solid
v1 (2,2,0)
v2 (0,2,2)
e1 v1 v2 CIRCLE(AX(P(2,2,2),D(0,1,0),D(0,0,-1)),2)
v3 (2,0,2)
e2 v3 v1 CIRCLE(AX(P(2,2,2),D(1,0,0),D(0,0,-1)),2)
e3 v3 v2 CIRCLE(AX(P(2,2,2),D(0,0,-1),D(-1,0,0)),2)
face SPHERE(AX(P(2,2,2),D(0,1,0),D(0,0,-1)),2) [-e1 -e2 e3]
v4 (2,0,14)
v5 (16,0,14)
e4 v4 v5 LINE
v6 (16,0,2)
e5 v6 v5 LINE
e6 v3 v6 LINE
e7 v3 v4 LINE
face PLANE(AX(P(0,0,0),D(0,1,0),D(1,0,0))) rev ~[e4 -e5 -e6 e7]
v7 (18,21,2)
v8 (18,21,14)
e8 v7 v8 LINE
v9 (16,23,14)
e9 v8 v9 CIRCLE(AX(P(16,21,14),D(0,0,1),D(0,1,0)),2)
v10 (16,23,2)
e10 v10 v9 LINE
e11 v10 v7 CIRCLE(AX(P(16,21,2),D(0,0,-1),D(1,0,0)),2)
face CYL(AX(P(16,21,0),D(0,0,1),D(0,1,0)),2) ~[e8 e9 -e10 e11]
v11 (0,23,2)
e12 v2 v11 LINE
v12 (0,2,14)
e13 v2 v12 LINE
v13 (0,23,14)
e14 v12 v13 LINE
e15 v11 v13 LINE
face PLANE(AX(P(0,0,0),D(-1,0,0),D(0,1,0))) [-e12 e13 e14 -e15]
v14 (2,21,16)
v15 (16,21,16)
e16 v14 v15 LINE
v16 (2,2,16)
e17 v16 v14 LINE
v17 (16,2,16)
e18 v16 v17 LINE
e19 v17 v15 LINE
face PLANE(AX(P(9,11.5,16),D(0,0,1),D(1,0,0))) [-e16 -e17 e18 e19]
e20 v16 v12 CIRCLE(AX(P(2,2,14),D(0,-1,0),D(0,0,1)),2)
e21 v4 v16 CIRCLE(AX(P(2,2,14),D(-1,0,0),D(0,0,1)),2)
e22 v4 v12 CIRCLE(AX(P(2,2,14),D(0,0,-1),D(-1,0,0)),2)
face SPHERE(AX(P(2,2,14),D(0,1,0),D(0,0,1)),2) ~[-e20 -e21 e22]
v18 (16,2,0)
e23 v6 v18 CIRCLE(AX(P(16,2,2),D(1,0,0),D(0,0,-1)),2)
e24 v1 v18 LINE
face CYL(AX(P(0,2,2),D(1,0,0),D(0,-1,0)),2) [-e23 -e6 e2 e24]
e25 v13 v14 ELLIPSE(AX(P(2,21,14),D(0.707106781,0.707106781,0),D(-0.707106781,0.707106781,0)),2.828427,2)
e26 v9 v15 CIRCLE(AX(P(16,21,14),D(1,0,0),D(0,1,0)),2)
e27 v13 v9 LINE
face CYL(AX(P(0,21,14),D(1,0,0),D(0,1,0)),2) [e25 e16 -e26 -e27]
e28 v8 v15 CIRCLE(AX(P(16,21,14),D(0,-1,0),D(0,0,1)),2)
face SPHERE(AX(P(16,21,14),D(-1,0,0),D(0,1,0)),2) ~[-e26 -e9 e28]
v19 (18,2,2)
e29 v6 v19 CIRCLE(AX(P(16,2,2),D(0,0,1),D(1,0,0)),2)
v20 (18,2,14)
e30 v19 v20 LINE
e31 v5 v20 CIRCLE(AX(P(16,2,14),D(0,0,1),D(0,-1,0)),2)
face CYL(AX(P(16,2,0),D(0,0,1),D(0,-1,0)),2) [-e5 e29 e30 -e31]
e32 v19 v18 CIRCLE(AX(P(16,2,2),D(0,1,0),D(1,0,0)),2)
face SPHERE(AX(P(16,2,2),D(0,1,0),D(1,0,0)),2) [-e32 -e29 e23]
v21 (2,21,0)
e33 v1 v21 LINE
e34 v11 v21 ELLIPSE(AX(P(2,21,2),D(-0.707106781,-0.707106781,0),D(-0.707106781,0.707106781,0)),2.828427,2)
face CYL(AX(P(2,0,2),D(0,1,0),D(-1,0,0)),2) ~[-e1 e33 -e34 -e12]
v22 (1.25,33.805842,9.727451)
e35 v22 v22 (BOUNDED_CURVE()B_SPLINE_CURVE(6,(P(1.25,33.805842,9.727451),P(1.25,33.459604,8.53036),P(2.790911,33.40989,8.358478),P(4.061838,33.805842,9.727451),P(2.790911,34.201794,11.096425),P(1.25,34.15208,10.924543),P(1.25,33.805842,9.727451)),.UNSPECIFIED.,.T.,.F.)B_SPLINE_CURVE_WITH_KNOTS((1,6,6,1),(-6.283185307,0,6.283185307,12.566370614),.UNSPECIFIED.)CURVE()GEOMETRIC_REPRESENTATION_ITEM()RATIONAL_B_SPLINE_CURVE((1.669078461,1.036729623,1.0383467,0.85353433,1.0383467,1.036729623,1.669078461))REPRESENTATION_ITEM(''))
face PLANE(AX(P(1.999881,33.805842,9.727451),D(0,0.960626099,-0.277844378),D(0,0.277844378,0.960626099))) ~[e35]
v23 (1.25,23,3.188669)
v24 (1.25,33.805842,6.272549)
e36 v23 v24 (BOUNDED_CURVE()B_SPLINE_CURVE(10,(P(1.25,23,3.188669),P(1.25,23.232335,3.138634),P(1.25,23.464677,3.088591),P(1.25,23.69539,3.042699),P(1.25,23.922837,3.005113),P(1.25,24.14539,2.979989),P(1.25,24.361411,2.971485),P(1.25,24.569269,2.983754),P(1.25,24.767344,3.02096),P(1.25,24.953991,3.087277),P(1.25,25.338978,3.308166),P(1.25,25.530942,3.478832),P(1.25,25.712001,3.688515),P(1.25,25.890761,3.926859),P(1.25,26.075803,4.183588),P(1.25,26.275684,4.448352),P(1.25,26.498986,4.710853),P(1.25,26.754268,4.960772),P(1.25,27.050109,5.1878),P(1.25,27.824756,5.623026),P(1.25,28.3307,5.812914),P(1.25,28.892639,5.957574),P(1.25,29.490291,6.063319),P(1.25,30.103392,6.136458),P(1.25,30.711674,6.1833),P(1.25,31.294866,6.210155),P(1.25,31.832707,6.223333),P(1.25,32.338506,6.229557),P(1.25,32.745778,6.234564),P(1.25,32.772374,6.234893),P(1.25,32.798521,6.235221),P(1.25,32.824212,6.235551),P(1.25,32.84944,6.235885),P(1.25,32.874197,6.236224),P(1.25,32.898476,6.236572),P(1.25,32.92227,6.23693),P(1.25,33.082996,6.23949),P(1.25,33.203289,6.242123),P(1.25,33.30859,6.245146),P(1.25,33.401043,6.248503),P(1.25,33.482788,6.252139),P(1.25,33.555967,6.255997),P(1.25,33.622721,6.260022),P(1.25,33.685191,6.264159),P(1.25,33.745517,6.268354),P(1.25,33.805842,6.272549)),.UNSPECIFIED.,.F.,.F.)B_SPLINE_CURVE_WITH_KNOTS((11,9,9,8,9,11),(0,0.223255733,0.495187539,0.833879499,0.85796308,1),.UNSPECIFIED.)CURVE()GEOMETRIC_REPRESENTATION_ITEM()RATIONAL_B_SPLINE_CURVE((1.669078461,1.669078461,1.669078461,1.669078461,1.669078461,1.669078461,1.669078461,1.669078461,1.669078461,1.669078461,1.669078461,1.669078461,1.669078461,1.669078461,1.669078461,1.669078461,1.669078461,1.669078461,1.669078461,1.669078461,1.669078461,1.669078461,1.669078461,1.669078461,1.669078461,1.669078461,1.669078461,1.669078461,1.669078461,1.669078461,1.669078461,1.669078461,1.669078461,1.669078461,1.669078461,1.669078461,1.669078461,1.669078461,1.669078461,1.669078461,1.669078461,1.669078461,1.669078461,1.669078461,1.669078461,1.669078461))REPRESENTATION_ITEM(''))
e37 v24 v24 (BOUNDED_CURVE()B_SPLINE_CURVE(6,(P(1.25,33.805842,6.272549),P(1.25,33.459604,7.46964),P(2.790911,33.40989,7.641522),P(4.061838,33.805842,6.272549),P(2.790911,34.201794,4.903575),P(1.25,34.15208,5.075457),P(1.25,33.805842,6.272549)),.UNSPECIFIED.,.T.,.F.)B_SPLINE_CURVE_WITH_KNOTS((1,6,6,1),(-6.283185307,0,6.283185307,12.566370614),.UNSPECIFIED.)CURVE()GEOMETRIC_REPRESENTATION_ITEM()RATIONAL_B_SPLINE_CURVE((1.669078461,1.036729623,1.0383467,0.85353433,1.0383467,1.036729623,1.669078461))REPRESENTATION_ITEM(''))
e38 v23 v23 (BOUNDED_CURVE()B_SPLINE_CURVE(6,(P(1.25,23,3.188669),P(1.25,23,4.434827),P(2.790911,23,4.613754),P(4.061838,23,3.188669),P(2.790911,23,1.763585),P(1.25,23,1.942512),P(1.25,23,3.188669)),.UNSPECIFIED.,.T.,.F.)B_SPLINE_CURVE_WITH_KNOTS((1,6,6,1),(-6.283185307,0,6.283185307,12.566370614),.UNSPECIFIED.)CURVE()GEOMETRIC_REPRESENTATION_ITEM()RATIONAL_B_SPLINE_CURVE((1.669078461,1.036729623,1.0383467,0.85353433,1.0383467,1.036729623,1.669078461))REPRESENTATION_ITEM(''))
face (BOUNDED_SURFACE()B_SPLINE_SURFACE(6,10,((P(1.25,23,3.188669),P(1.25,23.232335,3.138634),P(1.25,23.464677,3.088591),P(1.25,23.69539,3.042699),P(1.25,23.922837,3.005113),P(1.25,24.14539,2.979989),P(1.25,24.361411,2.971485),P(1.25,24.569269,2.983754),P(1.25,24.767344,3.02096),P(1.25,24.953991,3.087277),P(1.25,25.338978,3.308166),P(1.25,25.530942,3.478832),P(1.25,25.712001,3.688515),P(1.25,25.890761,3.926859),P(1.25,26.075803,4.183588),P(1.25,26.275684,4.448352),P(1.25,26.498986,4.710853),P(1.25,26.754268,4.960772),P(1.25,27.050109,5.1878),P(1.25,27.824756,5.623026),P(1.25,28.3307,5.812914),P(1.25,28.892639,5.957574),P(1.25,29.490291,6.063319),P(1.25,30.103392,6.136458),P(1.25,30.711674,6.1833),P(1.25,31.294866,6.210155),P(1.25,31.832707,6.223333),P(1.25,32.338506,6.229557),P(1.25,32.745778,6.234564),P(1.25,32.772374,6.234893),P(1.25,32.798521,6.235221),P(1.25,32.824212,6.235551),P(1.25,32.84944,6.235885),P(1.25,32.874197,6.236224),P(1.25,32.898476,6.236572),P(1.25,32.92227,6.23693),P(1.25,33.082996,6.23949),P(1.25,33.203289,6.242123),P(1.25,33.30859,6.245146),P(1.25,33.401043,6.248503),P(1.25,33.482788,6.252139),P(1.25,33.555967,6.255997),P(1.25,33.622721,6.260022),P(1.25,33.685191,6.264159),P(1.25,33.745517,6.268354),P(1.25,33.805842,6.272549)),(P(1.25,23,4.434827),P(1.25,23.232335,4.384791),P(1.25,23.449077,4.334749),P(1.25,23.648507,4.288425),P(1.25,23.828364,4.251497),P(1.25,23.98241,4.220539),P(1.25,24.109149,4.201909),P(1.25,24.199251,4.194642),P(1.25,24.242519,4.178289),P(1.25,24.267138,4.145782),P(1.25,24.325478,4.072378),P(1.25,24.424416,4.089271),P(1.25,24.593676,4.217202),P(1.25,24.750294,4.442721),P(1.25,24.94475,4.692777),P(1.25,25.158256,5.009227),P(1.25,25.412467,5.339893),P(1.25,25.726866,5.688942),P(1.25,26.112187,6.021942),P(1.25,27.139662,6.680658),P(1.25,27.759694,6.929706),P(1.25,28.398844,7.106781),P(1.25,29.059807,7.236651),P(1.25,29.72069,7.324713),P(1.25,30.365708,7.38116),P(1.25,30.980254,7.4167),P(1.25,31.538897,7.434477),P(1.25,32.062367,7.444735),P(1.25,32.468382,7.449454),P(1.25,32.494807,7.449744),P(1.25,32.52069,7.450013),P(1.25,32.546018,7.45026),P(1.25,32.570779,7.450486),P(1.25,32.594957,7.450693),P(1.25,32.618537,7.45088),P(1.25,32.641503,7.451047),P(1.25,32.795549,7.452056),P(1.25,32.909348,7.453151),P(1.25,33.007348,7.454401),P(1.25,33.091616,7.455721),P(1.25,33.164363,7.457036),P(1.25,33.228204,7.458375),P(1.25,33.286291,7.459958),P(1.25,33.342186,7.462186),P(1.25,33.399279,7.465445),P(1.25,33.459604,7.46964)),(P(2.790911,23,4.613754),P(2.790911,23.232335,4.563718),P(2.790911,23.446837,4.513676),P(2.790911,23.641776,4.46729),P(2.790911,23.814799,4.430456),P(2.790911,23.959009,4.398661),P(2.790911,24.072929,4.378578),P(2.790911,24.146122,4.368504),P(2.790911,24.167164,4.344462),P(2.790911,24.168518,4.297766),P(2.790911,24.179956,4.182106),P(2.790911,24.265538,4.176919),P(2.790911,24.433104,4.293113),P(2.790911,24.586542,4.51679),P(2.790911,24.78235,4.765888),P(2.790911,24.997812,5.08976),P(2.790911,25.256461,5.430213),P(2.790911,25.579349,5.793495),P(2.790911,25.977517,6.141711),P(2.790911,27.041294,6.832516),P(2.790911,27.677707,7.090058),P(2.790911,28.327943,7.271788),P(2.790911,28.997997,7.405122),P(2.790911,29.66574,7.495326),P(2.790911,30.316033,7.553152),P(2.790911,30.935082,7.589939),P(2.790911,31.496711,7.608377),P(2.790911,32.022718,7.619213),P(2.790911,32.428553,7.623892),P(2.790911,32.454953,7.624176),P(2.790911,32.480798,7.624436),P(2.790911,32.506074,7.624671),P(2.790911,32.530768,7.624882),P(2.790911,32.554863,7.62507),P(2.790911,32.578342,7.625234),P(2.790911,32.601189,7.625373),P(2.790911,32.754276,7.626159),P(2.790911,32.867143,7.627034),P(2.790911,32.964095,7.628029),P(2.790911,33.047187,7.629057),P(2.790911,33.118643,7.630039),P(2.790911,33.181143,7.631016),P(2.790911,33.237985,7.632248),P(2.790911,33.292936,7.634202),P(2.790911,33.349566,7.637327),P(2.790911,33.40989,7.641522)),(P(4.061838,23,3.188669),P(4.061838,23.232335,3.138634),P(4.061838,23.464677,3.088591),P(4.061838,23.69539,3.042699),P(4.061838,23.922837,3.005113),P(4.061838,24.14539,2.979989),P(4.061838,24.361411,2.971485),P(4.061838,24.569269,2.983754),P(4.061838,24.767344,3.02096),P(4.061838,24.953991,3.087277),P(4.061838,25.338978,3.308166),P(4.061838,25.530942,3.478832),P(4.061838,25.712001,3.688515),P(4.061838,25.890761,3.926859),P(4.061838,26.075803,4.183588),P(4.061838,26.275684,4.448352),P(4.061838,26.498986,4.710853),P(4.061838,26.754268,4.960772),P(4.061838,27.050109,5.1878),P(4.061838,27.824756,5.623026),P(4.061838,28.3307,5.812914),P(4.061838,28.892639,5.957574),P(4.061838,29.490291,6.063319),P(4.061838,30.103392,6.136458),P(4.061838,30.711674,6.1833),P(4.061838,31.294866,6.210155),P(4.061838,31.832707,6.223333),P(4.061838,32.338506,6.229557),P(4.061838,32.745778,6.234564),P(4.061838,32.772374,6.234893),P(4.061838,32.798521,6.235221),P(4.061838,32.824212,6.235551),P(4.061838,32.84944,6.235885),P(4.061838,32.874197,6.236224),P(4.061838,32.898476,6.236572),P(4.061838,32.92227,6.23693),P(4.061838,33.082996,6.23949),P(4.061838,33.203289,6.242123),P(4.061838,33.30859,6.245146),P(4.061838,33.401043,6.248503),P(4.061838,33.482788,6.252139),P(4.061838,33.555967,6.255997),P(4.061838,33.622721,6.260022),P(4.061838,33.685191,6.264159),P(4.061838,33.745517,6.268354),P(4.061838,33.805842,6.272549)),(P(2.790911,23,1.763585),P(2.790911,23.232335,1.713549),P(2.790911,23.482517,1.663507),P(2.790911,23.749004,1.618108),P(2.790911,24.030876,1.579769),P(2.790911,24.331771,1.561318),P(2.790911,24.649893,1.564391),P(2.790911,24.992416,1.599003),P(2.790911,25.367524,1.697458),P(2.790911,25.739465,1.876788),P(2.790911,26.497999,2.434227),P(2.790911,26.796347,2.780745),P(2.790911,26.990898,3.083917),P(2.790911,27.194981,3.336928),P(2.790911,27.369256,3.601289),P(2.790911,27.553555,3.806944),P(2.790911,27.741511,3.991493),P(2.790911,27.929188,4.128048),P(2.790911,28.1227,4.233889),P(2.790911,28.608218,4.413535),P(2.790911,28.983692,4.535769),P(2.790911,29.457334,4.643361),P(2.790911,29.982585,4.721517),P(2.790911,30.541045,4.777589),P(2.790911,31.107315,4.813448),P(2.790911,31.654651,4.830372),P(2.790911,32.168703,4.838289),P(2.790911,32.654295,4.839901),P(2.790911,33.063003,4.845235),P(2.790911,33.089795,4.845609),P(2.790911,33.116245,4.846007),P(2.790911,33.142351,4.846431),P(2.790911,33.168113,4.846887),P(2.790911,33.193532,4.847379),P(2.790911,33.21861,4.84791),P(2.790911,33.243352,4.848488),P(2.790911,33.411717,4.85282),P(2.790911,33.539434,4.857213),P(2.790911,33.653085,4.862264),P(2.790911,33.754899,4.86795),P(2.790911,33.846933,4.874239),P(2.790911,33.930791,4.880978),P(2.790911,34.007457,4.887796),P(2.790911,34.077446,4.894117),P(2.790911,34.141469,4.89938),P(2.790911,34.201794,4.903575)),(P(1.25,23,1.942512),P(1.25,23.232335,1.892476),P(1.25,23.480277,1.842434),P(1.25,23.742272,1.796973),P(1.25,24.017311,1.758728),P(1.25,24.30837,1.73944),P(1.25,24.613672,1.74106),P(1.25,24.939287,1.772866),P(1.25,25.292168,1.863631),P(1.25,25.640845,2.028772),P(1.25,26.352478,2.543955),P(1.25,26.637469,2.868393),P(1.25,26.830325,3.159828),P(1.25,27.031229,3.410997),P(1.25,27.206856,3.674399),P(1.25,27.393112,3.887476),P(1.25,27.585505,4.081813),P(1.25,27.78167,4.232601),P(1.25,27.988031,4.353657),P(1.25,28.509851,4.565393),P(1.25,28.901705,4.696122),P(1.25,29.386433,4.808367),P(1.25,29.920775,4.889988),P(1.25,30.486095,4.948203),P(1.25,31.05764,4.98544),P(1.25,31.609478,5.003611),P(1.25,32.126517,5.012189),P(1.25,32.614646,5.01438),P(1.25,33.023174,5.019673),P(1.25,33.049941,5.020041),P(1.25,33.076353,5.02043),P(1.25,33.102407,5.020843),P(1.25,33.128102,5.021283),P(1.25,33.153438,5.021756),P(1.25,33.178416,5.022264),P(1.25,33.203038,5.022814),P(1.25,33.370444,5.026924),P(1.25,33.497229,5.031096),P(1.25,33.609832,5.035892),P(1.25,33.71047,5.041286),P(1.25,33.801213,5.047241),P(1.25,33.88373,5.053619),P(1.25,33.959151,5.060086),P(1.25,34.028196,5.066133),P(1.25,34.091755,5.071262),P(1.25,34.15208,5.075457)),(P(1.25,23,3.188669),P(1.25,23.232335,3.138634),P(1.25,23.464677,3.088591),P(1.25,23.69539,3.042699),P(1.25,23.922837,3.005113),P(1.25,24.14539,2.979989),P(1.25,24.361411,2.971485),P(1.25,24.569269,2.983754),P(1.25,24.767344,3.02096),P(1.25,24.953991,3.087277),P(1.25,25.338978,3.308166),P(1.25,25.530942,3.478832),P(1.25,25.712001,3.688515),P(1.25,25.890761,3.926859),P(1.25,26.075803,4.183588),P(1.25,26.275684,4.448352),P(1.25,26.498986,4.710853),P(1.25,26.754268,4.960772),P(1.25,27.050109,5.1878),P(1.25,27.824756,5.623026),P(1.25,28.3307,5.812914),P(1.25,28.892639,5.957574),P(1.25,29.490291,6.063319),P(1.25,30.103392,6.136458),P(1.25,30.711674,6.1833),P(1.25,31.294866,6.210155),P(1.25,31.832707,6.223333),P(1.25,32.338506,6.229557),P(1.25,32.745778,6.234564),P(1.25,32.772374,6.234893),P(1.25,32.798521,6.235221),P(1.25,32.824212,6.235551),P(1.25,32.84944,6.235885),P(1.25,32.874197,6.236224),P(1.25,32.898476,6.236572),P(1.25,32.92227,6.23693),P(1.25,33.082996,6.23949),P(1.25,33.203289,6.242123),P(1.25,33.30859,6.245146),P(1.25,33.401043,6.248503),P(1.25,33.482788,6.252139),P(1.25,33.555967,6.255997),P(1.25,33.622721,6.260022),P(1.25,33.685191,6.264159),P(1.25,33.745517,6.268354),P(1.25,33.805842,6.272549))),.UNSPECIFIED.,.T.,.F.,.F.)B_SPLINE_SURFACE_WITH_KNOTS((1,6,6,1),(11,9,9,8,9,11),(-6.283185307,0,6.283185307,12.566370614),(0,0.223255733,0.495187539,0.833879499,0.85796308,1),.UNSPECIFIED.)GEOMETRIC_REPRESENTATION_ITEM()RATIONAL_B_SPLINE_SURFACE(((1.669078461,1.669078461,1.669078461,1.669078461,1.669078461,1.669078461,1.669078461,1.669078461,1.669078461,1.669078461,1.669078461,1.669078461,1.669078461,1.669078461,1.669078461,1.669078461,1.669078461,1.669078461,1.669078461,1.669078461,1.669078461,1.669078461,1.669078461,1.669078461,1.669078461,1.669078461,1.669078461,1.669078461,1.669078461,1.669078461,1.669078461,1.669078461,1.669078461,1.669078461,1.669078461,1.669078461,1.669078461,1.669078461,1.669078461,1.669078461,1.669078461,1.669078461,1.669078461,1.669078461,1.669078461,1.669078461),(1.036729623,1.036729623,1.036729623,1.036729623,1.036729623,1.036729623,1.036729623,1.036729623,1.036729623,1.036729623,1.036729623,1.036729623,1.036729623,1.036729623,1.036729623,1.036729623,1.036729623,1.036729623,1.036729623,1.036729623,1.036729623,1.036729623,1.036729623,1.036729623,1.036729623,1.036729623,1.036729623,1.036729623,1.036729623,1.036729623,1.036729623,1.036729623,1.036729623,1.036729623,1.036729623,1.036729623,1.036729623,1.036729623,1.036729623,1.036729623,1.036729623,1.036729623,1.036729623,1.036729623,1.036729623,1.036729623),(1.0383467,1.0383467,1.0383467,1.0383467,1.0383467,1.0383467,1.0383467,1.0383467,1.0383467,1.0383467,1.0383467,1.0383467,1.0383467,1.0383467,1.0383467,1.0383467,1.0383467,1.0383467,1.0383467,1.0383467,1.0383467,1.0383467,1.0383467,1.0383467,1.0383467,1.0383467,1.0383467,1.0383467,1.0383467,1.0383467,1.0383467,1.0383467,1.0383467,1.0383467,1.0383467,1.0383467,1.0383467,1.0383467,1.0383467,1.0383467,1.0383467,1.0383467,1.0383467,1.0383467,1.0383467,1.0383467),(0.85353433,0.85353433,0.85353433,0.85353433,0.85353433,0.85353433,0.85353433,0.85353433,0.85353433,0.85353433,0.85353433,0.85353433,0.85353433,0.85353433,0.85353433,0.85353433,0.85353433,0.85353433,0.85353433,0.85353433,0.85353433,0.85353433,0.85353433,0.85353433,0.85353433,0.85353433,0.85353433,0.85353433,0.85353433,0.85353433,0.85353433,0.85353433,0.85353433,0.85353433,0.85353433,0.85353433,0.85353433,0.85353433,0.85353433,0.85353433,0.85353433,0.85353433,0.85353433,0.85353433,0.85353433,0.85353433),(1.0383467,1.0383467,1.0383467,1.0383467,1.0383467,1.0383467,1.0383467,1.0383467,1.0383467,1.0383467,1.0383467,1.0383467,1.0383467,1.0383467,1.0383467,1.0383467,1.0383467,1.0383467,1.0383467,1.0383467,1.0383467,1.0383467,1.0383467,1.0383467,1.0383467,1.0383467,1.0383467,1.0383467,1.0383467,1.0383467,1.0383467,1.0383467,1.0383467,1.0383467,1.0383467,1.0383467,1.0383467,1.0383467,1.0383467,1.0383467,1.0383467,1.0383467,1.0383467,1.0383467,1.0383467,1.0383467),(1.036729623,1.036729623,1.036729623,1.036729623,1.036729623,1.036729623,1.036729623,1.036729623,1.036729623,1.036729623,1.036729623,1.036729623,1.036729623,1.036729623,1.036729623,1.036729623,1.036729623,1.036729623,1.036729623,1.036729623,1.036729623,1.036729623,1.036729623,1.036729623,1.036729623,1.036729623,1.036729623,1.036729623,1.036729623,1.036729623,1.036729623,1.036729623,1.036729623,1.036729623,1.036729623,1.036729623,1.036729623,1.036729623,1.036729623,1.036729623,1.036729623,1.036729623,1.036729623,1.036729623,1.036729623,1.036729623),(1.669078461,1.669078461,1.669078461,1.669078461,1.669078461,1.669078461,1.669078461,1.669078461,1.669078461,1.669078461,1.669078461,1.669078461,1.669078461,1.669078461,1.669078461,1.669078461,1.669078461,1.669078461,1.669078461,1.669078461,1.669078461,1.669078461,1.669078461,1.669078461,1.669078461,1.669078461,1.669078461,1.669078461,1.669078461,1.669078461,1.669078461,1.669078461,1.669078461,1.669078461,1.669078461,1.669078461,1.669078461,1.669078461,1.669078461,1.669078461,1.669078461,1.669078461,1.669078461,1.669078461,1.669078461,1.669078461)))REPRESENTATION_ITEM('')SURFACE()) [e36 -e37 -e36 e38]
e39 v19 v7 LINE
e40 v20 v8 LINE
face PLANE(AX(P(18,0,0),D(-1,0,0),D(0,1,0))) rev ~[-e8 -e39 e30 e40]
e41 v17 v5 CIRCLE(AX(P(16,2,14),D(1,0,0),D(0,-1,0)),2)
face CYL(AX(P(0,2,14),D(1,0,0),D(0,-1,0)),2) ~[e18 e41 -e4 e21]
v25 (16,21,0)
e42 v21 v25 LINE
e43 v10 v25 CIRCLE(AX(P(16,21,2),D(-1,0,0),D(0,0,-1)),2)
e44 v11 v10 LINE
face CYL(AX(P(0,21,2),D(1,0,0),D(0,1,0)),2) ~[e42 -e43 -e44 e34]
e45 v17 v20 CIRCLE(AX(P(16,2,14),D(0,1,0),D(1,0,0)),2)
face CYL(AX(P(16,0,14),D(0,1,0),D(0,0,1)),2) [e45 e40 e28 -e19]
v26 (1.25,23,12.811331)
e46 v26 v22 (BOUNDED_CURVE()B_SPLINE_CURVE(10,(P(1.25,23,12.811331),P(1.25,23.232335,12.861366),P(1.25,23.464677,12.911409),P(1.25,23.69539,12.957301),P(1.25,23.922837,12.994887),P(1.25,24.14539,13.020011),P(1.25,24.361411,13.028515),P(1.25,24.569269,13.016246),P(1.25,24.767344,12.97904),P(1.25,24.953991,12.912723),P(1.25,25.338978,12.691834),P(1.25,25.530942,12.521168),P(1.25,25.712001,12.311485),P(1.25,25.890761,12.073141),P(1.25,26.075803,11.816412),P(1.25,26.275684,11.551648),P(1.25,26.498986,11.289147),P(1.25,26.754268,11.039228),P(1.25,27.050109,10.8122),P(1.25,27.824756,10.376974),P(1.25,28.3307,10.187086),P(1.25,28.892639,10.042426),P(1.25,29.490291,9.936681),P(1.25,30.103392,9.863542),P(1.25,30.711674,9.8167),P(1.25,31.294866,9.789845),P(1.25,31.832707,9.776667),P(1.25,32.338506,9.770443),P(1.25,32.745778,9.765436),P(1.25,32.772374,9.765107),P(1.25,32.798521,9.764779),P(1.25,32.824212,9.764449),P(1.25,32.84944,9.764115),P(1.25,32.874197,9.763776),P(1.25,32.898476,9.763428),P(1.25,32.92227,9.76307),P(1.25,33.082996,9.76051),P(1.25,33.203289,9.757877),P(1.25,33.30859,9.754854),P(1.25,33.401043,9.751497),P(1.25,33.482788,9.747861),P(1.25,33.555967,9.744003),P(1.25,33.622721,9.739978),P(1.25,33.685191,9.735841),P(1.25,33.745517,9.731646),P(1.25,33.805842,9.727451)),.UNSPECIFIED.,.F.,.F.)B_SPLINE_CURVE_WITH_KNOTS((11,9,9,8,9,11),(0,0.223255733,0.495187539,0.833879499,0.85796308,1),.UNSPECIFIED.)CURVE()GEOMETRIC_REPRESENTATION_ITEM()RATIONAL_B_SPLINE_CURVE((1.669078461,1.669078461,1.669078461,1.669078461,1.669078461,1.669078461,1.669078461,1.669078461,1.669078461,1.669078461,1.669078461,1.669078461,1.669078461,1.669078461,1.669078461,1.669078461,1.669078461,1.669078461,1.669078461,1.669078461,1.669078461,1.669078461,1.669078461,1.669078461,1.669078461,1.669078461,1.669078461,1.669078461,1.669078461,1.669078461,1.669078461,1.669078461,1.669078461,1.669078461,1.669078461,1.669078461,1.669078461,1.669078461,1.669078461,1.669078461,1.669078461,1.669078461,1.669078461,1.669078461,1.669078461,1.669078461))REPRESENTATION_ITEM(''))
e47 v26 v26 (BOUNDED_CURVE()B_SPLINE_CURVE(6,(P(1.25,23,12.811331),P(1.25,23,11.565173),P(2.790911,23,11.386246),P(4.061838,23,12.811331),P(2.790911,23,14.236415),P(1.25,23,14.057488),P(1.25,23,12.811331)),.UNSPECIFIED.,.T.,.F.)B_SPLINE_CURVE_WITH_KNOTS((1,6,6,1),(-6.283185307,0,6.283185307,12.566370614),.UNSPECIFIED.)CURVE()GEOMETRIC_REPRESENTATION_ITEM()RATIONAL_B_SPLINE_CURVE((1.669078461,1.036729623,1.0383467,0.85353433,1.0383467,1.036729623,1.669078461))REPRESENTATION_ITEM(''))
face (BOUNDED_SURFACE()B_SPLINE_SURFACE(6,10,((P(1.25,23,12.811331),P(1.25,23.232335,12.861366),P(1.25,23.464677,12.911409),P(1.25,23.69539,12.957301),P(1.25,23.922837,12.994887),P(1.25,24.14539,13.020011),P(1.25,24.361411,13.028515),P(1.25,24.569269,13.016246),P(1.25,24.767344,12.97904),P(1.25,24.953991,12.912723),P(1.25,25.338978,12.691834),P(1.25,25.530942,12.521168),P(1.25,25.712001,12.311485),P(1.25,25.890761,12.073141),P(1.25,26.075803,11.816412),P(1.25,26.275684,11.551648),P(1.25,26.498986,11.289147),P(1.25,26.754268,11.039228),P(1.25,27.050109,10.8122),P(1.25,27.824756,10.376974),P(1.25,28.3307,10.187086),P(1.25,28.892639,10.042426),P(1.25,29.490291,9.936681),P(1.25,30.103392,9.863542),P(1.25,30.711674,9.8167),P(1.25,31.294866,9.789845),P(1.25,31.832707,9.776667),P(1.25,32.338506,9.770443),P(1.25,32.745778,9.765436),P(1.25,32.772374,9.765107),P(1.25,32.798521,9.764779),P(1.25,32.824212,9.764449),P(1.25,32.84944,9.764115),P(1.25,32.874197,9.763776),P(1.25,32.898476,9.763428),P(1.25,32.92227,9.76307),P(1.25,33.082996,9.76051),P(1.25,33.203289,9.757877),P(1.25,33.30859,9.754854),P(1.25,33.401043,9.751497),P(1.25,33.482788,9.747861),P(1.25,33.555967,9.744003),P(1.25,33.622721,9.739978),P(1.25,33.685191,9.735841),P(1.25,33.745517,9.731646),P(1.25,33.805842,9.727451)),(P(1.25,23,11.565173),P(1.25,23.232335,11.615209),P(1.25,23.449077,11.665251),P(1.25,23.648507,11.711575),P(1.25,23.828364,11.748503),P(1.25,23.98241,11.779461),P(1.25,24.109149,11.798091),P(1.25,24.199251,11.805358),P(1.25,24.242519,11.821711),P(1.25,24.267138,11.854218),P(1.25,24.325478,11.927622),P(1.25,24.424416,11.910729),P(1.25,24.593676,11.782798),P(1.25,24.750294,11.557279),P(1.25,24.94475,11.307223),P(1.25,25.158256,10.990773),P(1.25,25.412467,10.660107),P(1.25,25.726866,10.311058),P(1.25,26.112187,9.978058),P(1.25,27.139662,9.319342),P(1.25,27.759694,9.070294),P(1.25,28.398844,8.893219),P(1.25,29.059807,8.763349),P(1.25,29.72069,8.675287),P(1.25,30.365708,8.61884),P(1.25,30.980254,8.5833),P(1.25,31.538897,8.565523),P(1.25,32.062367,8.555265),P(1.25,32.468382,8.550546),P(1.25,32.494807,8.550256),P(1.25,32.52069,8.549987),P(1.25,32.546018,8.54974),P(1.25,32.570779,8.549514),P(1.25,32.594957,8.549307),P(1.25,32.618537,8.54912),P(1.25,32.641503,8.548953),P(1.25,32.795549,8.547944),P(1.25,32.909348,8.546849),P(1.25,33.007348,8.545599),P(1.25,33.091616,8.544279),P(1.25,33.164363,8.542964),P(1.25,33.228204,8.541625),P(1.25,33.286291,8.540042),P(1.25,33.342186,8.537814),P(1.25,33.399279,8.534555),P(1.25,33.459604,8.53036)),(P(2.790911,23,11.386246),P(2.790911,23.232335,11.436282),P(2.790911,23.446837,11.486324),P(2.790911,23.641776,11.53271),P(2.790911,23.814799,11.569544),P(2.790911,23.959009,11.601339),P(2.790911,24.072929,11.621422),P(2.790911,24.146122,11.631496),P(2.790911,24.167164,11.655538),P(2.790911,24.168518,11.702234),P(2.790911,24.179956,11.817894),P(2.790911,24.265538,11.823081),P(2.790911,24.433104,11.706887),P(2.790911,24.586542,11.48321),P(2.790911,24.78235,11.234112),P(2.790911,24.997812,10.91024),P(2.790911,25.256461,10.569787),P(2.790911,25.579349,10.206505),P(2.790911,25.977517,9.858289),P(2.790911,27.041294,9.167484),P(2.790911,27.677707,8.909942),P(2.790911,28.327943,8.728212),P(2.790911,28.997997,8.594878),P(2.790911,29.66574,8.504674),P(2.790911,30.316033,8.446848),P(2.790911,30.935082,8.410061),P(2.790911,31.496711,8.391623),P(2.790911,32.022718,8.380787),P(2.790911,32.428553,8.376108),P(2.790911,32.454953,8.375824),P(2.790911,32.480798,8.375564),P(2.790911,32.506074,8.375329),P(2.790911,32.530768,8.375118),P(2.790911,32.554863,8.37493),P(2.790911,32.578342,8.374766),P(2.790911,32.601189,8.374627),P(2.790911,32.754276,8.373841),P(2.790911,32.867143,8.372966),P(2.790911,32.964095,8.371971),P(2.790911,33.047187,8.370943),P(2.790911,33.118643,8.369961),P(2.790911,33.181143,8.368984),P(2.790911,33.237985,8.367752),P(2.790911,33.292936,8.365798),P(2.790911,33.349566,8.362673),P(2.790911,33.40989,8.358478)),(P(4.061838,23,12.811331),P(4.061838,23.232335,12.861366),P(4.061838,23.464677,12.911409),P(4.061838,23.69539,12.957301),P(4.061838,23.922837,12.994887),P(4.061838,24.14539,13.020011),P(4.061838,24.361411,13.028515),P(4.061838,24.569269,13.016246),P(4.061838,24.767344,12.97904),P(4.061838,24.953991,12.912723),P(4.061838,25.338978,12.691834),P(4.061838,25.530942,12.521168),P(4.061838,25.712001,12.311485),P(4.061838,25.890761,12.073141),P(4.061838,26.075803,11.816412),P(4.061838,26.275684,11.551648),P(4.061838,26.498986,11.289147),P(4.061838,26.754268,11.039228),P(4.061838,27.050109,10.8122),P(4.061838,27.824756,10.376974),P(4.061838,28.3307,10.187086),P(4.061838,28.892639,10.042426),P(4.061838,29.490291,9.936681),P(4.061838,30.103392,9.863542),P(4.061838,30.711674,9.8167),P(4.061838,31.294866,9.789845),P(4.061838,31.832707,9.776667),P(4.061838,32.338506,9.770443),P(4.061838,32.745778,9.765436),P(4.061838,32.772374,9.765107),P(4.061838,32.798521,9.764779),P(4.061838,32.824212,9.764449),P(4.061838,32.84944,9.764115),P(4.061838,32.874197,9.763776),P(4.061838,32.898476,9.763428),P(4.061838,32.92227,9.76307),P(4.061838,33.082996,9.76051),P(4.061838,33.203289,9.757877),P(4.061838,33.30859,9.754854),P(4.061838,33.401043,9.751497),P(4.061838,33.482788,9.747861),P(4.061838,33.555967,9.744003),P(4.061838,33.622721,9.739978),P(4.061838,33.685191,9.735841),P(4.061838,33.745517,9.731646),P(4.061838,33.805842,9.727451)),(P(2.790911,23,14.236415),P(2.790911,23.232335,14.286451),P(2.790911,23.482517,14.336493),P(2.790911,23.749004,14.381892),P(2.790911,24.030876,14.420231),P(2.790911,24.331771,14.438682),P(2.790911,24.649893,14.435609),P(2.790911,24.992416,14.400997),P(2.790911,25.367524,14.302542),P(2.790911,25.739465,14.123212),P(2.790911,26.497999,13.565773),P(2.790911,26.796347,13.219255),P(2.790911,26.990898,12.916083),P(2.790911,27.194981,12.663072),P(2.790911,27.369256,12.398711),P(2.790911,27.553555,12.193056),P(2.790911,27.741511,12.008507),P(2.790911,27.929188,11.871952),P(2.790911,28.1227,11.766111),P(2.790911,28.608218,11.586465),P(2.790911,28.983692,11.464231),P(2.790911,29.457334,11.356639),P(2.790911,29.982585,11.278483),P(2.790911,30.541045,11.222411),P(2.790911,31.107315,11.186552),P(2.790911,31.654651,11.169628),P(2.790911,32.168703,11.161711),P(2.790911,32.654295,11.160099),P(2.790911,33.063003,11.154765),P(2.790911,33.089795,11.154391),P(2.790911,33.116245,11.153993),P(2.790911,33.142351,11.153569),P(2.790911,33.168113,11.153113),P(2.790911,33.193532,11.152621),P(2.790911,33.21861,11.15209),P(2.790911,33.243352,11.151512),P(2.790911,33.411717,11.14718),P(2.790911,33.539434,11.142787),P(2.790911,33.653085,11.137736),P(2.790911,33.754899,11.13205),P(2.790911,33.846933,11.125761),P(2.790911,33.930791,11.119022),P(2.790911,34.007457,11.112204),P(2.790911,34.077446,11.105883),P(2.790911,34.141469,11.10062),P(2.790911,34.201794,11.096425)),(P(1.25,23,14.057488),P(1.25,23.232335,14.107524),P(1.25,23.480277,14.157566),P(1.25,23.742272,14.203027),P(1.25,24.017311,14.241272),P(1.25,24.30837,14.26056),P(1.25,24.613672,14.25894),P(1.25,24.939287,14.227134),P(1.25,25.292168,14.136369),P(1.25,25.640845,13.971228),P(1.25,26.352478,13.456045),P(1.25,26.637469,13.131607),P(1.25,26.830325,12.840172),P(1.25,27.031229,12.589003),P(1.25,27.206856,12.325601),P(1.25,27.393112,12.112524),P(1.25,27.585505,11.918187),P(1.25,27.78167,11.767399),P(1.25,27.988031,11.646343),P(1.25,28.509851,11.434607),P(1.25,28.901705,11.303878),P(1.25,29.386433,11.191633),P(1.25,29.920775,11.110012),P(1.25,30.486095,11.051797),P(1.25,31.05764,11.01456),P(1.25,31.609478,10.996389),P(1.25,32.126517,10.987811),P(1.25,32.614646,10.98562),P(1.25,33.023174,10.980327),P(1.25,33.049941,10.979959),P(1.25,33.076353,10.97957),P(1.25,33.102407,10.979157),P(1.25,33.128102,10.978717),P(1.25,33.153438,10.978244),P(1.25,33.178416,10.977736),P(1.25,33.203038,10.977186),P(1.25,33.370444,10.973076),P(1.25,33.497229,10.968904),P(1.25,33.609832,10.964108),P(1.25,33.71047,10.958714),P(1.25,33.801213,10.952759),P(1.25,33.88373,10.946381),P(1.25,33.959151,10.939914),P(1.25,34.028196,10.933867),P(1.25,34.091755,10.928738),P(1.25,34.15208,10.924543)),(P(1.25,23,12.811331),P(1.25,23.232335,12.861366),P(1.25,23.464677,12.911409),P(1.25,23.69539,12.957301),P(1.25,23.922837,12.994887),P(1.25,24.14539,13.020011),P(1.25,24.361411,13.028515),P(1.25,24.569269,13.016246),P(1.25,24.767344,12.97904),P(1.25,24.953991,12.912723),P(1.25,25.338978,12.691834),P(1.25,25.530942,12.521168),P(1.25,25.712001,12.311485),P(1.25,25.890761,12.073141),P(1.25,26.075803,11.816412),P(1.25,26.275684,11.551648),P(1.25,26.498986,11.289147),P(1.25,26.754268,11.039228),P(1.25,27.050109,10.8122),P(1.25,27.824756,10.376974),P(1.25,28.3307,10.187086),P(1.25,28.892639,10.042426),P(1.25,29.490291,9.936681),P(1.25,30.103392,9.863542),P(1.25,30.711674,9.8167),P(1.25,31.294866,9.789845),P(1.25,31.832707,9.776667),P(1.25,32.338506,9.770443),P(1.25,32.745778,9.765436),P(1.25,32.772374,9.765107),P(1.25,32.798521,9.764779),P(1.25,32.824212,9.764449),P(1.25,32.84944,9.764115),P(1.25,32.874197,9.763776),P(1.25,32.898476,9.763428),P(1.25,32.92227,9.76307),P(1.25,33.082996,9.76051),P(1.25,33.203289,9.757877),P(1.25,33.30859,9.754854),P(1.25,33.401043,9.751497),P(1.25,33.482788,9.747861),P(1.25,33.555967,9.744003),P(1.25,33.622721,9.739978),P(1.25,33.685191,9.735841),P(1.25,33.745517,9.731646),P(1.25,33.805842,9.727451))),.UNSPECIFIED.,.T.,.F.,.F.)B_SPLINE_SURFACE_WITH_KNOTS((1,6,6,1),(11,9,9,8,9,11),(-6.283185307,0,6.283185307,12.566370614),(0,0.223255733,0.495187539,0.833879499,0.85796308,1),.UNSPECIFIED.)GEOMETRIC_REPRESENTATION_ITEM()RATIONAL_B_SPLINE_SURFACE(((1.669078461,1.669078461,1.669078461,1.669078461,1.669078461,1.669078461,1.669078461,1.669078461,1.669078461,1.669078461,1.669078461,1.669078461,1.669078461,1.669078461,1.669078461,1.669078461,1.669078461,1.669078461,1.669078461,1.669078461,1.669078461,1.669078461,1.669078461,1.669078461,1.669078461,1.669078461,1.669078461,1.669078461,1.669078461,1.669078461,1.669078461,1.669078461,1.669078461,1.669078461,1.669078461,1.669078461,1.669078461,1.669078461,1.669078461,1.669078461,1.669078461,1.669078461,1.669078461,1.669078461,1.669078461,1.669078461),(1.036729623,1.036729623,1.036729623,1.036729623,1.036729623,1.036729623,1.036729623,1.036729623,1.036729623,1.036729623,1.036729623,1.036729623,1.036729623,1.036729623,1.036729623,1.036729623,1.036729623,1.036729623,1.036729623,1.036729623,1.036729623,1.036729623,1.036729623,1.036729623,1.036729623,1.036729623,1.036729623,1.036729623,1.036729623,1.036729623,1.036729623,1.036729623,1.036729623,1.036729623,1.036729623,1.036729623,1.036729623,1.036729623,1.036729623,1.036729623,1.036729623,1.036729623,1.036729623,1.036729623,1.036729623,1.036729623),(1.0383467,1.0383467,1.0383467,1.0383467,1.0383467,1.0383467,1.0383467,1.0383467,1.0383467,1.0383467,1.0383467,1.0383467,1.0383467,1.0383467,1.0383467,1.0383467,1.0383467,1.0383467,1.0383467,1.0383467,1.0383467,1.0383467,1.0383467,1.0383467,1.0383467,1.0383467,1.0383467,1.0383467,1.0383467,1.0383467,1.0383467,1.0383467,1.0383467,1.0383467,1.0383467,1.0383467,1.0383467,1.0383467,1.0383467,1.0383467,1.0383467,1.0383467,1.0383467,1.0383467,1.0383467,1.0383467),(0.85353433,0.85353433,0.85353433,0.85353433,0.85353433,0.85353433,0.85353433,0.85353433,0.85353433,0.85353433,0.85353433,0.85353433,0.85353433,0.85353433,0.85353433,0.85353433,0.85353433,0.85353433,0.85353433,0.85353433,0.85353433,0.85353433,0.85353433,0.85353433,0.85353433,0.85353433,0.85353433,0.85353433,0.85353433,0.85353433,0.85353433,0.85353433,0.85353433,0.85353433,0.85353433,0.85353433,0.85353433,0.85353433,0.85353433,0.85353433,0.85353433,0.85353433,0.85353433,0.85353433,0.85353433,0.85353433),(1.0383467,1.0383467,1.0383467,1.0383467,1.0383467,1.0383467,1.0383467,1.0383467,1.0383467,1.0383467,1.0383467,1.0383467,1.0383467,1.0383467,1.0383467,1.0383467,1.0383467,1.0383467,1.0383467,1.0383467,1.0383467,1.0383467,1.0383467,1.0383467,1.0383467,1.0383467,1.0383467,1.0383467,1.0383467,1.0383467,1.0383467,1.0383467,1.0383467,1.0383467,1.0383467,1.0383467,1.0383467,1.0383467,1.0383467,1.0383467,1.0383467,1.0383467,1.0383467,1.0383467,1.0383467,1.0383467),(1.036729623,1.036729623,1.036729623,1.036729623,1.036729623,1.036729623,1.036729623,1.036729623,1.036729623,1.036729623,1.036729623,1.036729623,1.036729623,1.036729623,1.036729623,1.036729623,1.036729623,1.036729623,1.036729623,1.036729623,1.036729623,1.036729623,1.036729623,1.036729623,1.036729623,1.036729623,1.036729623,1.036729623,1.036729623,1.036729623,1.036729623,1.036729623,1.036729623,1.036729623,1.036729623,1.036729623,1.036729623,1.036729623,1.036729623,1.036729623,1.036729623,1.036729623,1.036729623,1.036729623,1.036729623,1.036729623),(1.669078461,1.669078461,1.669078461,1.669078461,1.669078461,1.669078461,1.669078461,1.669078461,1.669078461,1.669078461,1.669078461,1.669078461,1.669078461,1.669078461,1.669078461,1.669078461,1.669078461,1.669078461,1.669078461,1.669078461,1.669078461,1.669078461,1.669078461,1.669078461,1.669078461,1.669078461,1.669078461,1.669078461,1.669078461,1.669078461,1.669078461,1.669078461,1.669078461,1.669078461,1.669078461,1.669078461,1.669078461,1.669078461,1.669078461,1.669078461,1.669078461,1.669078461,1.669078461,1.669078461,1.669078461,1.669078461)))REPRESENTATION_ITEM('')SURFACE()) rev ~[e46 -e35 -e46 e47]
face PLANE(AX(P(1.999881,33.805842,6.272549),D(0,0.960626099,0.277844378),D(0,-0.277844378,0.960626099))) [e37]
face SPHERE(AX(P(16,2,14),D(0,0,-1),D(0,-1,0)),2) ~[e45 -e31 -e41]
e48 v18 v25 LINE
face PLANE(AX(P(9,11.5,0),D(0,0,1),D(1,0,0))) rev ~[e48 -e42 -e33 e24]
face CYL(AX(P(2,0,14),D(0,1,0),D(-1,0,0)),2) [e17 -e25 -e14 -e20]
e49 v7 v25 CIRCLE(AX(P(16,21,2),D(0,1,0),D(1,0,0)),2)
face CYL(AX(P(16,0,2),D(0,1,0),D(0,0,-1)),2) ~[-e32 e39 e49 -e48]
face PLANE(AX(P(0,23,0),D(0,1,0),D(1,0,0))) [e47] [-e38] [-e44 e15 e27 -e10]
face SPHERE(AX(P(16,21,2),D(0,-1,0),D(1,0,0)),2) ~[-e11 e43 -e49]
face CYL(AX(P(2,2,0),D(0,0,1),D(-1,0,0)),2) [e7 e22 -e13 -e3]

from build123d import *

# Parameters (mm, degrees)
F0_W     = 18
F0_H     = 23
F1_DEPTH = 16
F2_R     = 0.75
F8_R     = 2


with BuildPart() as f1:
    # F0 (on Top) → F1 (new body)
    with BuildSketch(Plane.XY):
        with Locations((9, 11.5)):
            Rectangle(F0_W, F0_H)
    extrude(amount=F1_DEPTH)

    # F5: sweep along a path in F4
    with BuildLine(Plane(origin=(2, 0, 0), x_dir=(0, -1, 0), z_dir=(-1, 0, 0))) as f5_path:
        add(Plane(origin=(2, 0, 0), x_dir=(0, -1, 0), z_dir=(-1, 0, 0)) * Edge.make_bspline(
            [(-23.0005215853, 3.1891802792), (-23.7749723998, 3.0223947387), (-25.4927262434, 2.6524596858), (-26.7959816722, 6.2629262385), (-32.8904530092, 6.2095022364), (-33.6051186574, 6.259200929), (-33.8062010705, 6.2731844373)],
            knots=[0, 0, 0, 0, 0.2232557328, 0.4951875392, 0.8579630796, 1, 1, 1, 1], degree=3))
    # F2 (on face) → F5 (sweep)
    with BuildSketch(Plane(origin=(0, 23, 0), x_dir=(-1, 0, 0), z_dir=(0, 1, 0))):
        with Locations((-2, 3.1886692159)):
            Circle(F2_R)
    sweep(path=f5_path.line)

    # F7: F1 across plane


with BuildPart() as f1_1:
    add(f1.part)
    add(f1.part.mirror(Plane(origin=(9, 11.5, 8), x_dir=(1, 0, 0), z_dir=(0, 0, -1))))

    # F8
    f8_edges = [f1_1.edges().sort_by_distance(p)[0] for p in [
        (0, 11.5, 16),
        (0, 11.5, 0),
        (18, 11.5, 0),
        (18, 0, 8),
        (9, 0, 0),
        (9, 0, 16),
        (0, 0, 8),
        (9, 23, 16),
        (18, 23, 8),
        (9, 23, 0),
        (18, 11.5, 16),
    ]]
    fillet(f8_edges, radius=F8_R)


solid = f1_1.part
